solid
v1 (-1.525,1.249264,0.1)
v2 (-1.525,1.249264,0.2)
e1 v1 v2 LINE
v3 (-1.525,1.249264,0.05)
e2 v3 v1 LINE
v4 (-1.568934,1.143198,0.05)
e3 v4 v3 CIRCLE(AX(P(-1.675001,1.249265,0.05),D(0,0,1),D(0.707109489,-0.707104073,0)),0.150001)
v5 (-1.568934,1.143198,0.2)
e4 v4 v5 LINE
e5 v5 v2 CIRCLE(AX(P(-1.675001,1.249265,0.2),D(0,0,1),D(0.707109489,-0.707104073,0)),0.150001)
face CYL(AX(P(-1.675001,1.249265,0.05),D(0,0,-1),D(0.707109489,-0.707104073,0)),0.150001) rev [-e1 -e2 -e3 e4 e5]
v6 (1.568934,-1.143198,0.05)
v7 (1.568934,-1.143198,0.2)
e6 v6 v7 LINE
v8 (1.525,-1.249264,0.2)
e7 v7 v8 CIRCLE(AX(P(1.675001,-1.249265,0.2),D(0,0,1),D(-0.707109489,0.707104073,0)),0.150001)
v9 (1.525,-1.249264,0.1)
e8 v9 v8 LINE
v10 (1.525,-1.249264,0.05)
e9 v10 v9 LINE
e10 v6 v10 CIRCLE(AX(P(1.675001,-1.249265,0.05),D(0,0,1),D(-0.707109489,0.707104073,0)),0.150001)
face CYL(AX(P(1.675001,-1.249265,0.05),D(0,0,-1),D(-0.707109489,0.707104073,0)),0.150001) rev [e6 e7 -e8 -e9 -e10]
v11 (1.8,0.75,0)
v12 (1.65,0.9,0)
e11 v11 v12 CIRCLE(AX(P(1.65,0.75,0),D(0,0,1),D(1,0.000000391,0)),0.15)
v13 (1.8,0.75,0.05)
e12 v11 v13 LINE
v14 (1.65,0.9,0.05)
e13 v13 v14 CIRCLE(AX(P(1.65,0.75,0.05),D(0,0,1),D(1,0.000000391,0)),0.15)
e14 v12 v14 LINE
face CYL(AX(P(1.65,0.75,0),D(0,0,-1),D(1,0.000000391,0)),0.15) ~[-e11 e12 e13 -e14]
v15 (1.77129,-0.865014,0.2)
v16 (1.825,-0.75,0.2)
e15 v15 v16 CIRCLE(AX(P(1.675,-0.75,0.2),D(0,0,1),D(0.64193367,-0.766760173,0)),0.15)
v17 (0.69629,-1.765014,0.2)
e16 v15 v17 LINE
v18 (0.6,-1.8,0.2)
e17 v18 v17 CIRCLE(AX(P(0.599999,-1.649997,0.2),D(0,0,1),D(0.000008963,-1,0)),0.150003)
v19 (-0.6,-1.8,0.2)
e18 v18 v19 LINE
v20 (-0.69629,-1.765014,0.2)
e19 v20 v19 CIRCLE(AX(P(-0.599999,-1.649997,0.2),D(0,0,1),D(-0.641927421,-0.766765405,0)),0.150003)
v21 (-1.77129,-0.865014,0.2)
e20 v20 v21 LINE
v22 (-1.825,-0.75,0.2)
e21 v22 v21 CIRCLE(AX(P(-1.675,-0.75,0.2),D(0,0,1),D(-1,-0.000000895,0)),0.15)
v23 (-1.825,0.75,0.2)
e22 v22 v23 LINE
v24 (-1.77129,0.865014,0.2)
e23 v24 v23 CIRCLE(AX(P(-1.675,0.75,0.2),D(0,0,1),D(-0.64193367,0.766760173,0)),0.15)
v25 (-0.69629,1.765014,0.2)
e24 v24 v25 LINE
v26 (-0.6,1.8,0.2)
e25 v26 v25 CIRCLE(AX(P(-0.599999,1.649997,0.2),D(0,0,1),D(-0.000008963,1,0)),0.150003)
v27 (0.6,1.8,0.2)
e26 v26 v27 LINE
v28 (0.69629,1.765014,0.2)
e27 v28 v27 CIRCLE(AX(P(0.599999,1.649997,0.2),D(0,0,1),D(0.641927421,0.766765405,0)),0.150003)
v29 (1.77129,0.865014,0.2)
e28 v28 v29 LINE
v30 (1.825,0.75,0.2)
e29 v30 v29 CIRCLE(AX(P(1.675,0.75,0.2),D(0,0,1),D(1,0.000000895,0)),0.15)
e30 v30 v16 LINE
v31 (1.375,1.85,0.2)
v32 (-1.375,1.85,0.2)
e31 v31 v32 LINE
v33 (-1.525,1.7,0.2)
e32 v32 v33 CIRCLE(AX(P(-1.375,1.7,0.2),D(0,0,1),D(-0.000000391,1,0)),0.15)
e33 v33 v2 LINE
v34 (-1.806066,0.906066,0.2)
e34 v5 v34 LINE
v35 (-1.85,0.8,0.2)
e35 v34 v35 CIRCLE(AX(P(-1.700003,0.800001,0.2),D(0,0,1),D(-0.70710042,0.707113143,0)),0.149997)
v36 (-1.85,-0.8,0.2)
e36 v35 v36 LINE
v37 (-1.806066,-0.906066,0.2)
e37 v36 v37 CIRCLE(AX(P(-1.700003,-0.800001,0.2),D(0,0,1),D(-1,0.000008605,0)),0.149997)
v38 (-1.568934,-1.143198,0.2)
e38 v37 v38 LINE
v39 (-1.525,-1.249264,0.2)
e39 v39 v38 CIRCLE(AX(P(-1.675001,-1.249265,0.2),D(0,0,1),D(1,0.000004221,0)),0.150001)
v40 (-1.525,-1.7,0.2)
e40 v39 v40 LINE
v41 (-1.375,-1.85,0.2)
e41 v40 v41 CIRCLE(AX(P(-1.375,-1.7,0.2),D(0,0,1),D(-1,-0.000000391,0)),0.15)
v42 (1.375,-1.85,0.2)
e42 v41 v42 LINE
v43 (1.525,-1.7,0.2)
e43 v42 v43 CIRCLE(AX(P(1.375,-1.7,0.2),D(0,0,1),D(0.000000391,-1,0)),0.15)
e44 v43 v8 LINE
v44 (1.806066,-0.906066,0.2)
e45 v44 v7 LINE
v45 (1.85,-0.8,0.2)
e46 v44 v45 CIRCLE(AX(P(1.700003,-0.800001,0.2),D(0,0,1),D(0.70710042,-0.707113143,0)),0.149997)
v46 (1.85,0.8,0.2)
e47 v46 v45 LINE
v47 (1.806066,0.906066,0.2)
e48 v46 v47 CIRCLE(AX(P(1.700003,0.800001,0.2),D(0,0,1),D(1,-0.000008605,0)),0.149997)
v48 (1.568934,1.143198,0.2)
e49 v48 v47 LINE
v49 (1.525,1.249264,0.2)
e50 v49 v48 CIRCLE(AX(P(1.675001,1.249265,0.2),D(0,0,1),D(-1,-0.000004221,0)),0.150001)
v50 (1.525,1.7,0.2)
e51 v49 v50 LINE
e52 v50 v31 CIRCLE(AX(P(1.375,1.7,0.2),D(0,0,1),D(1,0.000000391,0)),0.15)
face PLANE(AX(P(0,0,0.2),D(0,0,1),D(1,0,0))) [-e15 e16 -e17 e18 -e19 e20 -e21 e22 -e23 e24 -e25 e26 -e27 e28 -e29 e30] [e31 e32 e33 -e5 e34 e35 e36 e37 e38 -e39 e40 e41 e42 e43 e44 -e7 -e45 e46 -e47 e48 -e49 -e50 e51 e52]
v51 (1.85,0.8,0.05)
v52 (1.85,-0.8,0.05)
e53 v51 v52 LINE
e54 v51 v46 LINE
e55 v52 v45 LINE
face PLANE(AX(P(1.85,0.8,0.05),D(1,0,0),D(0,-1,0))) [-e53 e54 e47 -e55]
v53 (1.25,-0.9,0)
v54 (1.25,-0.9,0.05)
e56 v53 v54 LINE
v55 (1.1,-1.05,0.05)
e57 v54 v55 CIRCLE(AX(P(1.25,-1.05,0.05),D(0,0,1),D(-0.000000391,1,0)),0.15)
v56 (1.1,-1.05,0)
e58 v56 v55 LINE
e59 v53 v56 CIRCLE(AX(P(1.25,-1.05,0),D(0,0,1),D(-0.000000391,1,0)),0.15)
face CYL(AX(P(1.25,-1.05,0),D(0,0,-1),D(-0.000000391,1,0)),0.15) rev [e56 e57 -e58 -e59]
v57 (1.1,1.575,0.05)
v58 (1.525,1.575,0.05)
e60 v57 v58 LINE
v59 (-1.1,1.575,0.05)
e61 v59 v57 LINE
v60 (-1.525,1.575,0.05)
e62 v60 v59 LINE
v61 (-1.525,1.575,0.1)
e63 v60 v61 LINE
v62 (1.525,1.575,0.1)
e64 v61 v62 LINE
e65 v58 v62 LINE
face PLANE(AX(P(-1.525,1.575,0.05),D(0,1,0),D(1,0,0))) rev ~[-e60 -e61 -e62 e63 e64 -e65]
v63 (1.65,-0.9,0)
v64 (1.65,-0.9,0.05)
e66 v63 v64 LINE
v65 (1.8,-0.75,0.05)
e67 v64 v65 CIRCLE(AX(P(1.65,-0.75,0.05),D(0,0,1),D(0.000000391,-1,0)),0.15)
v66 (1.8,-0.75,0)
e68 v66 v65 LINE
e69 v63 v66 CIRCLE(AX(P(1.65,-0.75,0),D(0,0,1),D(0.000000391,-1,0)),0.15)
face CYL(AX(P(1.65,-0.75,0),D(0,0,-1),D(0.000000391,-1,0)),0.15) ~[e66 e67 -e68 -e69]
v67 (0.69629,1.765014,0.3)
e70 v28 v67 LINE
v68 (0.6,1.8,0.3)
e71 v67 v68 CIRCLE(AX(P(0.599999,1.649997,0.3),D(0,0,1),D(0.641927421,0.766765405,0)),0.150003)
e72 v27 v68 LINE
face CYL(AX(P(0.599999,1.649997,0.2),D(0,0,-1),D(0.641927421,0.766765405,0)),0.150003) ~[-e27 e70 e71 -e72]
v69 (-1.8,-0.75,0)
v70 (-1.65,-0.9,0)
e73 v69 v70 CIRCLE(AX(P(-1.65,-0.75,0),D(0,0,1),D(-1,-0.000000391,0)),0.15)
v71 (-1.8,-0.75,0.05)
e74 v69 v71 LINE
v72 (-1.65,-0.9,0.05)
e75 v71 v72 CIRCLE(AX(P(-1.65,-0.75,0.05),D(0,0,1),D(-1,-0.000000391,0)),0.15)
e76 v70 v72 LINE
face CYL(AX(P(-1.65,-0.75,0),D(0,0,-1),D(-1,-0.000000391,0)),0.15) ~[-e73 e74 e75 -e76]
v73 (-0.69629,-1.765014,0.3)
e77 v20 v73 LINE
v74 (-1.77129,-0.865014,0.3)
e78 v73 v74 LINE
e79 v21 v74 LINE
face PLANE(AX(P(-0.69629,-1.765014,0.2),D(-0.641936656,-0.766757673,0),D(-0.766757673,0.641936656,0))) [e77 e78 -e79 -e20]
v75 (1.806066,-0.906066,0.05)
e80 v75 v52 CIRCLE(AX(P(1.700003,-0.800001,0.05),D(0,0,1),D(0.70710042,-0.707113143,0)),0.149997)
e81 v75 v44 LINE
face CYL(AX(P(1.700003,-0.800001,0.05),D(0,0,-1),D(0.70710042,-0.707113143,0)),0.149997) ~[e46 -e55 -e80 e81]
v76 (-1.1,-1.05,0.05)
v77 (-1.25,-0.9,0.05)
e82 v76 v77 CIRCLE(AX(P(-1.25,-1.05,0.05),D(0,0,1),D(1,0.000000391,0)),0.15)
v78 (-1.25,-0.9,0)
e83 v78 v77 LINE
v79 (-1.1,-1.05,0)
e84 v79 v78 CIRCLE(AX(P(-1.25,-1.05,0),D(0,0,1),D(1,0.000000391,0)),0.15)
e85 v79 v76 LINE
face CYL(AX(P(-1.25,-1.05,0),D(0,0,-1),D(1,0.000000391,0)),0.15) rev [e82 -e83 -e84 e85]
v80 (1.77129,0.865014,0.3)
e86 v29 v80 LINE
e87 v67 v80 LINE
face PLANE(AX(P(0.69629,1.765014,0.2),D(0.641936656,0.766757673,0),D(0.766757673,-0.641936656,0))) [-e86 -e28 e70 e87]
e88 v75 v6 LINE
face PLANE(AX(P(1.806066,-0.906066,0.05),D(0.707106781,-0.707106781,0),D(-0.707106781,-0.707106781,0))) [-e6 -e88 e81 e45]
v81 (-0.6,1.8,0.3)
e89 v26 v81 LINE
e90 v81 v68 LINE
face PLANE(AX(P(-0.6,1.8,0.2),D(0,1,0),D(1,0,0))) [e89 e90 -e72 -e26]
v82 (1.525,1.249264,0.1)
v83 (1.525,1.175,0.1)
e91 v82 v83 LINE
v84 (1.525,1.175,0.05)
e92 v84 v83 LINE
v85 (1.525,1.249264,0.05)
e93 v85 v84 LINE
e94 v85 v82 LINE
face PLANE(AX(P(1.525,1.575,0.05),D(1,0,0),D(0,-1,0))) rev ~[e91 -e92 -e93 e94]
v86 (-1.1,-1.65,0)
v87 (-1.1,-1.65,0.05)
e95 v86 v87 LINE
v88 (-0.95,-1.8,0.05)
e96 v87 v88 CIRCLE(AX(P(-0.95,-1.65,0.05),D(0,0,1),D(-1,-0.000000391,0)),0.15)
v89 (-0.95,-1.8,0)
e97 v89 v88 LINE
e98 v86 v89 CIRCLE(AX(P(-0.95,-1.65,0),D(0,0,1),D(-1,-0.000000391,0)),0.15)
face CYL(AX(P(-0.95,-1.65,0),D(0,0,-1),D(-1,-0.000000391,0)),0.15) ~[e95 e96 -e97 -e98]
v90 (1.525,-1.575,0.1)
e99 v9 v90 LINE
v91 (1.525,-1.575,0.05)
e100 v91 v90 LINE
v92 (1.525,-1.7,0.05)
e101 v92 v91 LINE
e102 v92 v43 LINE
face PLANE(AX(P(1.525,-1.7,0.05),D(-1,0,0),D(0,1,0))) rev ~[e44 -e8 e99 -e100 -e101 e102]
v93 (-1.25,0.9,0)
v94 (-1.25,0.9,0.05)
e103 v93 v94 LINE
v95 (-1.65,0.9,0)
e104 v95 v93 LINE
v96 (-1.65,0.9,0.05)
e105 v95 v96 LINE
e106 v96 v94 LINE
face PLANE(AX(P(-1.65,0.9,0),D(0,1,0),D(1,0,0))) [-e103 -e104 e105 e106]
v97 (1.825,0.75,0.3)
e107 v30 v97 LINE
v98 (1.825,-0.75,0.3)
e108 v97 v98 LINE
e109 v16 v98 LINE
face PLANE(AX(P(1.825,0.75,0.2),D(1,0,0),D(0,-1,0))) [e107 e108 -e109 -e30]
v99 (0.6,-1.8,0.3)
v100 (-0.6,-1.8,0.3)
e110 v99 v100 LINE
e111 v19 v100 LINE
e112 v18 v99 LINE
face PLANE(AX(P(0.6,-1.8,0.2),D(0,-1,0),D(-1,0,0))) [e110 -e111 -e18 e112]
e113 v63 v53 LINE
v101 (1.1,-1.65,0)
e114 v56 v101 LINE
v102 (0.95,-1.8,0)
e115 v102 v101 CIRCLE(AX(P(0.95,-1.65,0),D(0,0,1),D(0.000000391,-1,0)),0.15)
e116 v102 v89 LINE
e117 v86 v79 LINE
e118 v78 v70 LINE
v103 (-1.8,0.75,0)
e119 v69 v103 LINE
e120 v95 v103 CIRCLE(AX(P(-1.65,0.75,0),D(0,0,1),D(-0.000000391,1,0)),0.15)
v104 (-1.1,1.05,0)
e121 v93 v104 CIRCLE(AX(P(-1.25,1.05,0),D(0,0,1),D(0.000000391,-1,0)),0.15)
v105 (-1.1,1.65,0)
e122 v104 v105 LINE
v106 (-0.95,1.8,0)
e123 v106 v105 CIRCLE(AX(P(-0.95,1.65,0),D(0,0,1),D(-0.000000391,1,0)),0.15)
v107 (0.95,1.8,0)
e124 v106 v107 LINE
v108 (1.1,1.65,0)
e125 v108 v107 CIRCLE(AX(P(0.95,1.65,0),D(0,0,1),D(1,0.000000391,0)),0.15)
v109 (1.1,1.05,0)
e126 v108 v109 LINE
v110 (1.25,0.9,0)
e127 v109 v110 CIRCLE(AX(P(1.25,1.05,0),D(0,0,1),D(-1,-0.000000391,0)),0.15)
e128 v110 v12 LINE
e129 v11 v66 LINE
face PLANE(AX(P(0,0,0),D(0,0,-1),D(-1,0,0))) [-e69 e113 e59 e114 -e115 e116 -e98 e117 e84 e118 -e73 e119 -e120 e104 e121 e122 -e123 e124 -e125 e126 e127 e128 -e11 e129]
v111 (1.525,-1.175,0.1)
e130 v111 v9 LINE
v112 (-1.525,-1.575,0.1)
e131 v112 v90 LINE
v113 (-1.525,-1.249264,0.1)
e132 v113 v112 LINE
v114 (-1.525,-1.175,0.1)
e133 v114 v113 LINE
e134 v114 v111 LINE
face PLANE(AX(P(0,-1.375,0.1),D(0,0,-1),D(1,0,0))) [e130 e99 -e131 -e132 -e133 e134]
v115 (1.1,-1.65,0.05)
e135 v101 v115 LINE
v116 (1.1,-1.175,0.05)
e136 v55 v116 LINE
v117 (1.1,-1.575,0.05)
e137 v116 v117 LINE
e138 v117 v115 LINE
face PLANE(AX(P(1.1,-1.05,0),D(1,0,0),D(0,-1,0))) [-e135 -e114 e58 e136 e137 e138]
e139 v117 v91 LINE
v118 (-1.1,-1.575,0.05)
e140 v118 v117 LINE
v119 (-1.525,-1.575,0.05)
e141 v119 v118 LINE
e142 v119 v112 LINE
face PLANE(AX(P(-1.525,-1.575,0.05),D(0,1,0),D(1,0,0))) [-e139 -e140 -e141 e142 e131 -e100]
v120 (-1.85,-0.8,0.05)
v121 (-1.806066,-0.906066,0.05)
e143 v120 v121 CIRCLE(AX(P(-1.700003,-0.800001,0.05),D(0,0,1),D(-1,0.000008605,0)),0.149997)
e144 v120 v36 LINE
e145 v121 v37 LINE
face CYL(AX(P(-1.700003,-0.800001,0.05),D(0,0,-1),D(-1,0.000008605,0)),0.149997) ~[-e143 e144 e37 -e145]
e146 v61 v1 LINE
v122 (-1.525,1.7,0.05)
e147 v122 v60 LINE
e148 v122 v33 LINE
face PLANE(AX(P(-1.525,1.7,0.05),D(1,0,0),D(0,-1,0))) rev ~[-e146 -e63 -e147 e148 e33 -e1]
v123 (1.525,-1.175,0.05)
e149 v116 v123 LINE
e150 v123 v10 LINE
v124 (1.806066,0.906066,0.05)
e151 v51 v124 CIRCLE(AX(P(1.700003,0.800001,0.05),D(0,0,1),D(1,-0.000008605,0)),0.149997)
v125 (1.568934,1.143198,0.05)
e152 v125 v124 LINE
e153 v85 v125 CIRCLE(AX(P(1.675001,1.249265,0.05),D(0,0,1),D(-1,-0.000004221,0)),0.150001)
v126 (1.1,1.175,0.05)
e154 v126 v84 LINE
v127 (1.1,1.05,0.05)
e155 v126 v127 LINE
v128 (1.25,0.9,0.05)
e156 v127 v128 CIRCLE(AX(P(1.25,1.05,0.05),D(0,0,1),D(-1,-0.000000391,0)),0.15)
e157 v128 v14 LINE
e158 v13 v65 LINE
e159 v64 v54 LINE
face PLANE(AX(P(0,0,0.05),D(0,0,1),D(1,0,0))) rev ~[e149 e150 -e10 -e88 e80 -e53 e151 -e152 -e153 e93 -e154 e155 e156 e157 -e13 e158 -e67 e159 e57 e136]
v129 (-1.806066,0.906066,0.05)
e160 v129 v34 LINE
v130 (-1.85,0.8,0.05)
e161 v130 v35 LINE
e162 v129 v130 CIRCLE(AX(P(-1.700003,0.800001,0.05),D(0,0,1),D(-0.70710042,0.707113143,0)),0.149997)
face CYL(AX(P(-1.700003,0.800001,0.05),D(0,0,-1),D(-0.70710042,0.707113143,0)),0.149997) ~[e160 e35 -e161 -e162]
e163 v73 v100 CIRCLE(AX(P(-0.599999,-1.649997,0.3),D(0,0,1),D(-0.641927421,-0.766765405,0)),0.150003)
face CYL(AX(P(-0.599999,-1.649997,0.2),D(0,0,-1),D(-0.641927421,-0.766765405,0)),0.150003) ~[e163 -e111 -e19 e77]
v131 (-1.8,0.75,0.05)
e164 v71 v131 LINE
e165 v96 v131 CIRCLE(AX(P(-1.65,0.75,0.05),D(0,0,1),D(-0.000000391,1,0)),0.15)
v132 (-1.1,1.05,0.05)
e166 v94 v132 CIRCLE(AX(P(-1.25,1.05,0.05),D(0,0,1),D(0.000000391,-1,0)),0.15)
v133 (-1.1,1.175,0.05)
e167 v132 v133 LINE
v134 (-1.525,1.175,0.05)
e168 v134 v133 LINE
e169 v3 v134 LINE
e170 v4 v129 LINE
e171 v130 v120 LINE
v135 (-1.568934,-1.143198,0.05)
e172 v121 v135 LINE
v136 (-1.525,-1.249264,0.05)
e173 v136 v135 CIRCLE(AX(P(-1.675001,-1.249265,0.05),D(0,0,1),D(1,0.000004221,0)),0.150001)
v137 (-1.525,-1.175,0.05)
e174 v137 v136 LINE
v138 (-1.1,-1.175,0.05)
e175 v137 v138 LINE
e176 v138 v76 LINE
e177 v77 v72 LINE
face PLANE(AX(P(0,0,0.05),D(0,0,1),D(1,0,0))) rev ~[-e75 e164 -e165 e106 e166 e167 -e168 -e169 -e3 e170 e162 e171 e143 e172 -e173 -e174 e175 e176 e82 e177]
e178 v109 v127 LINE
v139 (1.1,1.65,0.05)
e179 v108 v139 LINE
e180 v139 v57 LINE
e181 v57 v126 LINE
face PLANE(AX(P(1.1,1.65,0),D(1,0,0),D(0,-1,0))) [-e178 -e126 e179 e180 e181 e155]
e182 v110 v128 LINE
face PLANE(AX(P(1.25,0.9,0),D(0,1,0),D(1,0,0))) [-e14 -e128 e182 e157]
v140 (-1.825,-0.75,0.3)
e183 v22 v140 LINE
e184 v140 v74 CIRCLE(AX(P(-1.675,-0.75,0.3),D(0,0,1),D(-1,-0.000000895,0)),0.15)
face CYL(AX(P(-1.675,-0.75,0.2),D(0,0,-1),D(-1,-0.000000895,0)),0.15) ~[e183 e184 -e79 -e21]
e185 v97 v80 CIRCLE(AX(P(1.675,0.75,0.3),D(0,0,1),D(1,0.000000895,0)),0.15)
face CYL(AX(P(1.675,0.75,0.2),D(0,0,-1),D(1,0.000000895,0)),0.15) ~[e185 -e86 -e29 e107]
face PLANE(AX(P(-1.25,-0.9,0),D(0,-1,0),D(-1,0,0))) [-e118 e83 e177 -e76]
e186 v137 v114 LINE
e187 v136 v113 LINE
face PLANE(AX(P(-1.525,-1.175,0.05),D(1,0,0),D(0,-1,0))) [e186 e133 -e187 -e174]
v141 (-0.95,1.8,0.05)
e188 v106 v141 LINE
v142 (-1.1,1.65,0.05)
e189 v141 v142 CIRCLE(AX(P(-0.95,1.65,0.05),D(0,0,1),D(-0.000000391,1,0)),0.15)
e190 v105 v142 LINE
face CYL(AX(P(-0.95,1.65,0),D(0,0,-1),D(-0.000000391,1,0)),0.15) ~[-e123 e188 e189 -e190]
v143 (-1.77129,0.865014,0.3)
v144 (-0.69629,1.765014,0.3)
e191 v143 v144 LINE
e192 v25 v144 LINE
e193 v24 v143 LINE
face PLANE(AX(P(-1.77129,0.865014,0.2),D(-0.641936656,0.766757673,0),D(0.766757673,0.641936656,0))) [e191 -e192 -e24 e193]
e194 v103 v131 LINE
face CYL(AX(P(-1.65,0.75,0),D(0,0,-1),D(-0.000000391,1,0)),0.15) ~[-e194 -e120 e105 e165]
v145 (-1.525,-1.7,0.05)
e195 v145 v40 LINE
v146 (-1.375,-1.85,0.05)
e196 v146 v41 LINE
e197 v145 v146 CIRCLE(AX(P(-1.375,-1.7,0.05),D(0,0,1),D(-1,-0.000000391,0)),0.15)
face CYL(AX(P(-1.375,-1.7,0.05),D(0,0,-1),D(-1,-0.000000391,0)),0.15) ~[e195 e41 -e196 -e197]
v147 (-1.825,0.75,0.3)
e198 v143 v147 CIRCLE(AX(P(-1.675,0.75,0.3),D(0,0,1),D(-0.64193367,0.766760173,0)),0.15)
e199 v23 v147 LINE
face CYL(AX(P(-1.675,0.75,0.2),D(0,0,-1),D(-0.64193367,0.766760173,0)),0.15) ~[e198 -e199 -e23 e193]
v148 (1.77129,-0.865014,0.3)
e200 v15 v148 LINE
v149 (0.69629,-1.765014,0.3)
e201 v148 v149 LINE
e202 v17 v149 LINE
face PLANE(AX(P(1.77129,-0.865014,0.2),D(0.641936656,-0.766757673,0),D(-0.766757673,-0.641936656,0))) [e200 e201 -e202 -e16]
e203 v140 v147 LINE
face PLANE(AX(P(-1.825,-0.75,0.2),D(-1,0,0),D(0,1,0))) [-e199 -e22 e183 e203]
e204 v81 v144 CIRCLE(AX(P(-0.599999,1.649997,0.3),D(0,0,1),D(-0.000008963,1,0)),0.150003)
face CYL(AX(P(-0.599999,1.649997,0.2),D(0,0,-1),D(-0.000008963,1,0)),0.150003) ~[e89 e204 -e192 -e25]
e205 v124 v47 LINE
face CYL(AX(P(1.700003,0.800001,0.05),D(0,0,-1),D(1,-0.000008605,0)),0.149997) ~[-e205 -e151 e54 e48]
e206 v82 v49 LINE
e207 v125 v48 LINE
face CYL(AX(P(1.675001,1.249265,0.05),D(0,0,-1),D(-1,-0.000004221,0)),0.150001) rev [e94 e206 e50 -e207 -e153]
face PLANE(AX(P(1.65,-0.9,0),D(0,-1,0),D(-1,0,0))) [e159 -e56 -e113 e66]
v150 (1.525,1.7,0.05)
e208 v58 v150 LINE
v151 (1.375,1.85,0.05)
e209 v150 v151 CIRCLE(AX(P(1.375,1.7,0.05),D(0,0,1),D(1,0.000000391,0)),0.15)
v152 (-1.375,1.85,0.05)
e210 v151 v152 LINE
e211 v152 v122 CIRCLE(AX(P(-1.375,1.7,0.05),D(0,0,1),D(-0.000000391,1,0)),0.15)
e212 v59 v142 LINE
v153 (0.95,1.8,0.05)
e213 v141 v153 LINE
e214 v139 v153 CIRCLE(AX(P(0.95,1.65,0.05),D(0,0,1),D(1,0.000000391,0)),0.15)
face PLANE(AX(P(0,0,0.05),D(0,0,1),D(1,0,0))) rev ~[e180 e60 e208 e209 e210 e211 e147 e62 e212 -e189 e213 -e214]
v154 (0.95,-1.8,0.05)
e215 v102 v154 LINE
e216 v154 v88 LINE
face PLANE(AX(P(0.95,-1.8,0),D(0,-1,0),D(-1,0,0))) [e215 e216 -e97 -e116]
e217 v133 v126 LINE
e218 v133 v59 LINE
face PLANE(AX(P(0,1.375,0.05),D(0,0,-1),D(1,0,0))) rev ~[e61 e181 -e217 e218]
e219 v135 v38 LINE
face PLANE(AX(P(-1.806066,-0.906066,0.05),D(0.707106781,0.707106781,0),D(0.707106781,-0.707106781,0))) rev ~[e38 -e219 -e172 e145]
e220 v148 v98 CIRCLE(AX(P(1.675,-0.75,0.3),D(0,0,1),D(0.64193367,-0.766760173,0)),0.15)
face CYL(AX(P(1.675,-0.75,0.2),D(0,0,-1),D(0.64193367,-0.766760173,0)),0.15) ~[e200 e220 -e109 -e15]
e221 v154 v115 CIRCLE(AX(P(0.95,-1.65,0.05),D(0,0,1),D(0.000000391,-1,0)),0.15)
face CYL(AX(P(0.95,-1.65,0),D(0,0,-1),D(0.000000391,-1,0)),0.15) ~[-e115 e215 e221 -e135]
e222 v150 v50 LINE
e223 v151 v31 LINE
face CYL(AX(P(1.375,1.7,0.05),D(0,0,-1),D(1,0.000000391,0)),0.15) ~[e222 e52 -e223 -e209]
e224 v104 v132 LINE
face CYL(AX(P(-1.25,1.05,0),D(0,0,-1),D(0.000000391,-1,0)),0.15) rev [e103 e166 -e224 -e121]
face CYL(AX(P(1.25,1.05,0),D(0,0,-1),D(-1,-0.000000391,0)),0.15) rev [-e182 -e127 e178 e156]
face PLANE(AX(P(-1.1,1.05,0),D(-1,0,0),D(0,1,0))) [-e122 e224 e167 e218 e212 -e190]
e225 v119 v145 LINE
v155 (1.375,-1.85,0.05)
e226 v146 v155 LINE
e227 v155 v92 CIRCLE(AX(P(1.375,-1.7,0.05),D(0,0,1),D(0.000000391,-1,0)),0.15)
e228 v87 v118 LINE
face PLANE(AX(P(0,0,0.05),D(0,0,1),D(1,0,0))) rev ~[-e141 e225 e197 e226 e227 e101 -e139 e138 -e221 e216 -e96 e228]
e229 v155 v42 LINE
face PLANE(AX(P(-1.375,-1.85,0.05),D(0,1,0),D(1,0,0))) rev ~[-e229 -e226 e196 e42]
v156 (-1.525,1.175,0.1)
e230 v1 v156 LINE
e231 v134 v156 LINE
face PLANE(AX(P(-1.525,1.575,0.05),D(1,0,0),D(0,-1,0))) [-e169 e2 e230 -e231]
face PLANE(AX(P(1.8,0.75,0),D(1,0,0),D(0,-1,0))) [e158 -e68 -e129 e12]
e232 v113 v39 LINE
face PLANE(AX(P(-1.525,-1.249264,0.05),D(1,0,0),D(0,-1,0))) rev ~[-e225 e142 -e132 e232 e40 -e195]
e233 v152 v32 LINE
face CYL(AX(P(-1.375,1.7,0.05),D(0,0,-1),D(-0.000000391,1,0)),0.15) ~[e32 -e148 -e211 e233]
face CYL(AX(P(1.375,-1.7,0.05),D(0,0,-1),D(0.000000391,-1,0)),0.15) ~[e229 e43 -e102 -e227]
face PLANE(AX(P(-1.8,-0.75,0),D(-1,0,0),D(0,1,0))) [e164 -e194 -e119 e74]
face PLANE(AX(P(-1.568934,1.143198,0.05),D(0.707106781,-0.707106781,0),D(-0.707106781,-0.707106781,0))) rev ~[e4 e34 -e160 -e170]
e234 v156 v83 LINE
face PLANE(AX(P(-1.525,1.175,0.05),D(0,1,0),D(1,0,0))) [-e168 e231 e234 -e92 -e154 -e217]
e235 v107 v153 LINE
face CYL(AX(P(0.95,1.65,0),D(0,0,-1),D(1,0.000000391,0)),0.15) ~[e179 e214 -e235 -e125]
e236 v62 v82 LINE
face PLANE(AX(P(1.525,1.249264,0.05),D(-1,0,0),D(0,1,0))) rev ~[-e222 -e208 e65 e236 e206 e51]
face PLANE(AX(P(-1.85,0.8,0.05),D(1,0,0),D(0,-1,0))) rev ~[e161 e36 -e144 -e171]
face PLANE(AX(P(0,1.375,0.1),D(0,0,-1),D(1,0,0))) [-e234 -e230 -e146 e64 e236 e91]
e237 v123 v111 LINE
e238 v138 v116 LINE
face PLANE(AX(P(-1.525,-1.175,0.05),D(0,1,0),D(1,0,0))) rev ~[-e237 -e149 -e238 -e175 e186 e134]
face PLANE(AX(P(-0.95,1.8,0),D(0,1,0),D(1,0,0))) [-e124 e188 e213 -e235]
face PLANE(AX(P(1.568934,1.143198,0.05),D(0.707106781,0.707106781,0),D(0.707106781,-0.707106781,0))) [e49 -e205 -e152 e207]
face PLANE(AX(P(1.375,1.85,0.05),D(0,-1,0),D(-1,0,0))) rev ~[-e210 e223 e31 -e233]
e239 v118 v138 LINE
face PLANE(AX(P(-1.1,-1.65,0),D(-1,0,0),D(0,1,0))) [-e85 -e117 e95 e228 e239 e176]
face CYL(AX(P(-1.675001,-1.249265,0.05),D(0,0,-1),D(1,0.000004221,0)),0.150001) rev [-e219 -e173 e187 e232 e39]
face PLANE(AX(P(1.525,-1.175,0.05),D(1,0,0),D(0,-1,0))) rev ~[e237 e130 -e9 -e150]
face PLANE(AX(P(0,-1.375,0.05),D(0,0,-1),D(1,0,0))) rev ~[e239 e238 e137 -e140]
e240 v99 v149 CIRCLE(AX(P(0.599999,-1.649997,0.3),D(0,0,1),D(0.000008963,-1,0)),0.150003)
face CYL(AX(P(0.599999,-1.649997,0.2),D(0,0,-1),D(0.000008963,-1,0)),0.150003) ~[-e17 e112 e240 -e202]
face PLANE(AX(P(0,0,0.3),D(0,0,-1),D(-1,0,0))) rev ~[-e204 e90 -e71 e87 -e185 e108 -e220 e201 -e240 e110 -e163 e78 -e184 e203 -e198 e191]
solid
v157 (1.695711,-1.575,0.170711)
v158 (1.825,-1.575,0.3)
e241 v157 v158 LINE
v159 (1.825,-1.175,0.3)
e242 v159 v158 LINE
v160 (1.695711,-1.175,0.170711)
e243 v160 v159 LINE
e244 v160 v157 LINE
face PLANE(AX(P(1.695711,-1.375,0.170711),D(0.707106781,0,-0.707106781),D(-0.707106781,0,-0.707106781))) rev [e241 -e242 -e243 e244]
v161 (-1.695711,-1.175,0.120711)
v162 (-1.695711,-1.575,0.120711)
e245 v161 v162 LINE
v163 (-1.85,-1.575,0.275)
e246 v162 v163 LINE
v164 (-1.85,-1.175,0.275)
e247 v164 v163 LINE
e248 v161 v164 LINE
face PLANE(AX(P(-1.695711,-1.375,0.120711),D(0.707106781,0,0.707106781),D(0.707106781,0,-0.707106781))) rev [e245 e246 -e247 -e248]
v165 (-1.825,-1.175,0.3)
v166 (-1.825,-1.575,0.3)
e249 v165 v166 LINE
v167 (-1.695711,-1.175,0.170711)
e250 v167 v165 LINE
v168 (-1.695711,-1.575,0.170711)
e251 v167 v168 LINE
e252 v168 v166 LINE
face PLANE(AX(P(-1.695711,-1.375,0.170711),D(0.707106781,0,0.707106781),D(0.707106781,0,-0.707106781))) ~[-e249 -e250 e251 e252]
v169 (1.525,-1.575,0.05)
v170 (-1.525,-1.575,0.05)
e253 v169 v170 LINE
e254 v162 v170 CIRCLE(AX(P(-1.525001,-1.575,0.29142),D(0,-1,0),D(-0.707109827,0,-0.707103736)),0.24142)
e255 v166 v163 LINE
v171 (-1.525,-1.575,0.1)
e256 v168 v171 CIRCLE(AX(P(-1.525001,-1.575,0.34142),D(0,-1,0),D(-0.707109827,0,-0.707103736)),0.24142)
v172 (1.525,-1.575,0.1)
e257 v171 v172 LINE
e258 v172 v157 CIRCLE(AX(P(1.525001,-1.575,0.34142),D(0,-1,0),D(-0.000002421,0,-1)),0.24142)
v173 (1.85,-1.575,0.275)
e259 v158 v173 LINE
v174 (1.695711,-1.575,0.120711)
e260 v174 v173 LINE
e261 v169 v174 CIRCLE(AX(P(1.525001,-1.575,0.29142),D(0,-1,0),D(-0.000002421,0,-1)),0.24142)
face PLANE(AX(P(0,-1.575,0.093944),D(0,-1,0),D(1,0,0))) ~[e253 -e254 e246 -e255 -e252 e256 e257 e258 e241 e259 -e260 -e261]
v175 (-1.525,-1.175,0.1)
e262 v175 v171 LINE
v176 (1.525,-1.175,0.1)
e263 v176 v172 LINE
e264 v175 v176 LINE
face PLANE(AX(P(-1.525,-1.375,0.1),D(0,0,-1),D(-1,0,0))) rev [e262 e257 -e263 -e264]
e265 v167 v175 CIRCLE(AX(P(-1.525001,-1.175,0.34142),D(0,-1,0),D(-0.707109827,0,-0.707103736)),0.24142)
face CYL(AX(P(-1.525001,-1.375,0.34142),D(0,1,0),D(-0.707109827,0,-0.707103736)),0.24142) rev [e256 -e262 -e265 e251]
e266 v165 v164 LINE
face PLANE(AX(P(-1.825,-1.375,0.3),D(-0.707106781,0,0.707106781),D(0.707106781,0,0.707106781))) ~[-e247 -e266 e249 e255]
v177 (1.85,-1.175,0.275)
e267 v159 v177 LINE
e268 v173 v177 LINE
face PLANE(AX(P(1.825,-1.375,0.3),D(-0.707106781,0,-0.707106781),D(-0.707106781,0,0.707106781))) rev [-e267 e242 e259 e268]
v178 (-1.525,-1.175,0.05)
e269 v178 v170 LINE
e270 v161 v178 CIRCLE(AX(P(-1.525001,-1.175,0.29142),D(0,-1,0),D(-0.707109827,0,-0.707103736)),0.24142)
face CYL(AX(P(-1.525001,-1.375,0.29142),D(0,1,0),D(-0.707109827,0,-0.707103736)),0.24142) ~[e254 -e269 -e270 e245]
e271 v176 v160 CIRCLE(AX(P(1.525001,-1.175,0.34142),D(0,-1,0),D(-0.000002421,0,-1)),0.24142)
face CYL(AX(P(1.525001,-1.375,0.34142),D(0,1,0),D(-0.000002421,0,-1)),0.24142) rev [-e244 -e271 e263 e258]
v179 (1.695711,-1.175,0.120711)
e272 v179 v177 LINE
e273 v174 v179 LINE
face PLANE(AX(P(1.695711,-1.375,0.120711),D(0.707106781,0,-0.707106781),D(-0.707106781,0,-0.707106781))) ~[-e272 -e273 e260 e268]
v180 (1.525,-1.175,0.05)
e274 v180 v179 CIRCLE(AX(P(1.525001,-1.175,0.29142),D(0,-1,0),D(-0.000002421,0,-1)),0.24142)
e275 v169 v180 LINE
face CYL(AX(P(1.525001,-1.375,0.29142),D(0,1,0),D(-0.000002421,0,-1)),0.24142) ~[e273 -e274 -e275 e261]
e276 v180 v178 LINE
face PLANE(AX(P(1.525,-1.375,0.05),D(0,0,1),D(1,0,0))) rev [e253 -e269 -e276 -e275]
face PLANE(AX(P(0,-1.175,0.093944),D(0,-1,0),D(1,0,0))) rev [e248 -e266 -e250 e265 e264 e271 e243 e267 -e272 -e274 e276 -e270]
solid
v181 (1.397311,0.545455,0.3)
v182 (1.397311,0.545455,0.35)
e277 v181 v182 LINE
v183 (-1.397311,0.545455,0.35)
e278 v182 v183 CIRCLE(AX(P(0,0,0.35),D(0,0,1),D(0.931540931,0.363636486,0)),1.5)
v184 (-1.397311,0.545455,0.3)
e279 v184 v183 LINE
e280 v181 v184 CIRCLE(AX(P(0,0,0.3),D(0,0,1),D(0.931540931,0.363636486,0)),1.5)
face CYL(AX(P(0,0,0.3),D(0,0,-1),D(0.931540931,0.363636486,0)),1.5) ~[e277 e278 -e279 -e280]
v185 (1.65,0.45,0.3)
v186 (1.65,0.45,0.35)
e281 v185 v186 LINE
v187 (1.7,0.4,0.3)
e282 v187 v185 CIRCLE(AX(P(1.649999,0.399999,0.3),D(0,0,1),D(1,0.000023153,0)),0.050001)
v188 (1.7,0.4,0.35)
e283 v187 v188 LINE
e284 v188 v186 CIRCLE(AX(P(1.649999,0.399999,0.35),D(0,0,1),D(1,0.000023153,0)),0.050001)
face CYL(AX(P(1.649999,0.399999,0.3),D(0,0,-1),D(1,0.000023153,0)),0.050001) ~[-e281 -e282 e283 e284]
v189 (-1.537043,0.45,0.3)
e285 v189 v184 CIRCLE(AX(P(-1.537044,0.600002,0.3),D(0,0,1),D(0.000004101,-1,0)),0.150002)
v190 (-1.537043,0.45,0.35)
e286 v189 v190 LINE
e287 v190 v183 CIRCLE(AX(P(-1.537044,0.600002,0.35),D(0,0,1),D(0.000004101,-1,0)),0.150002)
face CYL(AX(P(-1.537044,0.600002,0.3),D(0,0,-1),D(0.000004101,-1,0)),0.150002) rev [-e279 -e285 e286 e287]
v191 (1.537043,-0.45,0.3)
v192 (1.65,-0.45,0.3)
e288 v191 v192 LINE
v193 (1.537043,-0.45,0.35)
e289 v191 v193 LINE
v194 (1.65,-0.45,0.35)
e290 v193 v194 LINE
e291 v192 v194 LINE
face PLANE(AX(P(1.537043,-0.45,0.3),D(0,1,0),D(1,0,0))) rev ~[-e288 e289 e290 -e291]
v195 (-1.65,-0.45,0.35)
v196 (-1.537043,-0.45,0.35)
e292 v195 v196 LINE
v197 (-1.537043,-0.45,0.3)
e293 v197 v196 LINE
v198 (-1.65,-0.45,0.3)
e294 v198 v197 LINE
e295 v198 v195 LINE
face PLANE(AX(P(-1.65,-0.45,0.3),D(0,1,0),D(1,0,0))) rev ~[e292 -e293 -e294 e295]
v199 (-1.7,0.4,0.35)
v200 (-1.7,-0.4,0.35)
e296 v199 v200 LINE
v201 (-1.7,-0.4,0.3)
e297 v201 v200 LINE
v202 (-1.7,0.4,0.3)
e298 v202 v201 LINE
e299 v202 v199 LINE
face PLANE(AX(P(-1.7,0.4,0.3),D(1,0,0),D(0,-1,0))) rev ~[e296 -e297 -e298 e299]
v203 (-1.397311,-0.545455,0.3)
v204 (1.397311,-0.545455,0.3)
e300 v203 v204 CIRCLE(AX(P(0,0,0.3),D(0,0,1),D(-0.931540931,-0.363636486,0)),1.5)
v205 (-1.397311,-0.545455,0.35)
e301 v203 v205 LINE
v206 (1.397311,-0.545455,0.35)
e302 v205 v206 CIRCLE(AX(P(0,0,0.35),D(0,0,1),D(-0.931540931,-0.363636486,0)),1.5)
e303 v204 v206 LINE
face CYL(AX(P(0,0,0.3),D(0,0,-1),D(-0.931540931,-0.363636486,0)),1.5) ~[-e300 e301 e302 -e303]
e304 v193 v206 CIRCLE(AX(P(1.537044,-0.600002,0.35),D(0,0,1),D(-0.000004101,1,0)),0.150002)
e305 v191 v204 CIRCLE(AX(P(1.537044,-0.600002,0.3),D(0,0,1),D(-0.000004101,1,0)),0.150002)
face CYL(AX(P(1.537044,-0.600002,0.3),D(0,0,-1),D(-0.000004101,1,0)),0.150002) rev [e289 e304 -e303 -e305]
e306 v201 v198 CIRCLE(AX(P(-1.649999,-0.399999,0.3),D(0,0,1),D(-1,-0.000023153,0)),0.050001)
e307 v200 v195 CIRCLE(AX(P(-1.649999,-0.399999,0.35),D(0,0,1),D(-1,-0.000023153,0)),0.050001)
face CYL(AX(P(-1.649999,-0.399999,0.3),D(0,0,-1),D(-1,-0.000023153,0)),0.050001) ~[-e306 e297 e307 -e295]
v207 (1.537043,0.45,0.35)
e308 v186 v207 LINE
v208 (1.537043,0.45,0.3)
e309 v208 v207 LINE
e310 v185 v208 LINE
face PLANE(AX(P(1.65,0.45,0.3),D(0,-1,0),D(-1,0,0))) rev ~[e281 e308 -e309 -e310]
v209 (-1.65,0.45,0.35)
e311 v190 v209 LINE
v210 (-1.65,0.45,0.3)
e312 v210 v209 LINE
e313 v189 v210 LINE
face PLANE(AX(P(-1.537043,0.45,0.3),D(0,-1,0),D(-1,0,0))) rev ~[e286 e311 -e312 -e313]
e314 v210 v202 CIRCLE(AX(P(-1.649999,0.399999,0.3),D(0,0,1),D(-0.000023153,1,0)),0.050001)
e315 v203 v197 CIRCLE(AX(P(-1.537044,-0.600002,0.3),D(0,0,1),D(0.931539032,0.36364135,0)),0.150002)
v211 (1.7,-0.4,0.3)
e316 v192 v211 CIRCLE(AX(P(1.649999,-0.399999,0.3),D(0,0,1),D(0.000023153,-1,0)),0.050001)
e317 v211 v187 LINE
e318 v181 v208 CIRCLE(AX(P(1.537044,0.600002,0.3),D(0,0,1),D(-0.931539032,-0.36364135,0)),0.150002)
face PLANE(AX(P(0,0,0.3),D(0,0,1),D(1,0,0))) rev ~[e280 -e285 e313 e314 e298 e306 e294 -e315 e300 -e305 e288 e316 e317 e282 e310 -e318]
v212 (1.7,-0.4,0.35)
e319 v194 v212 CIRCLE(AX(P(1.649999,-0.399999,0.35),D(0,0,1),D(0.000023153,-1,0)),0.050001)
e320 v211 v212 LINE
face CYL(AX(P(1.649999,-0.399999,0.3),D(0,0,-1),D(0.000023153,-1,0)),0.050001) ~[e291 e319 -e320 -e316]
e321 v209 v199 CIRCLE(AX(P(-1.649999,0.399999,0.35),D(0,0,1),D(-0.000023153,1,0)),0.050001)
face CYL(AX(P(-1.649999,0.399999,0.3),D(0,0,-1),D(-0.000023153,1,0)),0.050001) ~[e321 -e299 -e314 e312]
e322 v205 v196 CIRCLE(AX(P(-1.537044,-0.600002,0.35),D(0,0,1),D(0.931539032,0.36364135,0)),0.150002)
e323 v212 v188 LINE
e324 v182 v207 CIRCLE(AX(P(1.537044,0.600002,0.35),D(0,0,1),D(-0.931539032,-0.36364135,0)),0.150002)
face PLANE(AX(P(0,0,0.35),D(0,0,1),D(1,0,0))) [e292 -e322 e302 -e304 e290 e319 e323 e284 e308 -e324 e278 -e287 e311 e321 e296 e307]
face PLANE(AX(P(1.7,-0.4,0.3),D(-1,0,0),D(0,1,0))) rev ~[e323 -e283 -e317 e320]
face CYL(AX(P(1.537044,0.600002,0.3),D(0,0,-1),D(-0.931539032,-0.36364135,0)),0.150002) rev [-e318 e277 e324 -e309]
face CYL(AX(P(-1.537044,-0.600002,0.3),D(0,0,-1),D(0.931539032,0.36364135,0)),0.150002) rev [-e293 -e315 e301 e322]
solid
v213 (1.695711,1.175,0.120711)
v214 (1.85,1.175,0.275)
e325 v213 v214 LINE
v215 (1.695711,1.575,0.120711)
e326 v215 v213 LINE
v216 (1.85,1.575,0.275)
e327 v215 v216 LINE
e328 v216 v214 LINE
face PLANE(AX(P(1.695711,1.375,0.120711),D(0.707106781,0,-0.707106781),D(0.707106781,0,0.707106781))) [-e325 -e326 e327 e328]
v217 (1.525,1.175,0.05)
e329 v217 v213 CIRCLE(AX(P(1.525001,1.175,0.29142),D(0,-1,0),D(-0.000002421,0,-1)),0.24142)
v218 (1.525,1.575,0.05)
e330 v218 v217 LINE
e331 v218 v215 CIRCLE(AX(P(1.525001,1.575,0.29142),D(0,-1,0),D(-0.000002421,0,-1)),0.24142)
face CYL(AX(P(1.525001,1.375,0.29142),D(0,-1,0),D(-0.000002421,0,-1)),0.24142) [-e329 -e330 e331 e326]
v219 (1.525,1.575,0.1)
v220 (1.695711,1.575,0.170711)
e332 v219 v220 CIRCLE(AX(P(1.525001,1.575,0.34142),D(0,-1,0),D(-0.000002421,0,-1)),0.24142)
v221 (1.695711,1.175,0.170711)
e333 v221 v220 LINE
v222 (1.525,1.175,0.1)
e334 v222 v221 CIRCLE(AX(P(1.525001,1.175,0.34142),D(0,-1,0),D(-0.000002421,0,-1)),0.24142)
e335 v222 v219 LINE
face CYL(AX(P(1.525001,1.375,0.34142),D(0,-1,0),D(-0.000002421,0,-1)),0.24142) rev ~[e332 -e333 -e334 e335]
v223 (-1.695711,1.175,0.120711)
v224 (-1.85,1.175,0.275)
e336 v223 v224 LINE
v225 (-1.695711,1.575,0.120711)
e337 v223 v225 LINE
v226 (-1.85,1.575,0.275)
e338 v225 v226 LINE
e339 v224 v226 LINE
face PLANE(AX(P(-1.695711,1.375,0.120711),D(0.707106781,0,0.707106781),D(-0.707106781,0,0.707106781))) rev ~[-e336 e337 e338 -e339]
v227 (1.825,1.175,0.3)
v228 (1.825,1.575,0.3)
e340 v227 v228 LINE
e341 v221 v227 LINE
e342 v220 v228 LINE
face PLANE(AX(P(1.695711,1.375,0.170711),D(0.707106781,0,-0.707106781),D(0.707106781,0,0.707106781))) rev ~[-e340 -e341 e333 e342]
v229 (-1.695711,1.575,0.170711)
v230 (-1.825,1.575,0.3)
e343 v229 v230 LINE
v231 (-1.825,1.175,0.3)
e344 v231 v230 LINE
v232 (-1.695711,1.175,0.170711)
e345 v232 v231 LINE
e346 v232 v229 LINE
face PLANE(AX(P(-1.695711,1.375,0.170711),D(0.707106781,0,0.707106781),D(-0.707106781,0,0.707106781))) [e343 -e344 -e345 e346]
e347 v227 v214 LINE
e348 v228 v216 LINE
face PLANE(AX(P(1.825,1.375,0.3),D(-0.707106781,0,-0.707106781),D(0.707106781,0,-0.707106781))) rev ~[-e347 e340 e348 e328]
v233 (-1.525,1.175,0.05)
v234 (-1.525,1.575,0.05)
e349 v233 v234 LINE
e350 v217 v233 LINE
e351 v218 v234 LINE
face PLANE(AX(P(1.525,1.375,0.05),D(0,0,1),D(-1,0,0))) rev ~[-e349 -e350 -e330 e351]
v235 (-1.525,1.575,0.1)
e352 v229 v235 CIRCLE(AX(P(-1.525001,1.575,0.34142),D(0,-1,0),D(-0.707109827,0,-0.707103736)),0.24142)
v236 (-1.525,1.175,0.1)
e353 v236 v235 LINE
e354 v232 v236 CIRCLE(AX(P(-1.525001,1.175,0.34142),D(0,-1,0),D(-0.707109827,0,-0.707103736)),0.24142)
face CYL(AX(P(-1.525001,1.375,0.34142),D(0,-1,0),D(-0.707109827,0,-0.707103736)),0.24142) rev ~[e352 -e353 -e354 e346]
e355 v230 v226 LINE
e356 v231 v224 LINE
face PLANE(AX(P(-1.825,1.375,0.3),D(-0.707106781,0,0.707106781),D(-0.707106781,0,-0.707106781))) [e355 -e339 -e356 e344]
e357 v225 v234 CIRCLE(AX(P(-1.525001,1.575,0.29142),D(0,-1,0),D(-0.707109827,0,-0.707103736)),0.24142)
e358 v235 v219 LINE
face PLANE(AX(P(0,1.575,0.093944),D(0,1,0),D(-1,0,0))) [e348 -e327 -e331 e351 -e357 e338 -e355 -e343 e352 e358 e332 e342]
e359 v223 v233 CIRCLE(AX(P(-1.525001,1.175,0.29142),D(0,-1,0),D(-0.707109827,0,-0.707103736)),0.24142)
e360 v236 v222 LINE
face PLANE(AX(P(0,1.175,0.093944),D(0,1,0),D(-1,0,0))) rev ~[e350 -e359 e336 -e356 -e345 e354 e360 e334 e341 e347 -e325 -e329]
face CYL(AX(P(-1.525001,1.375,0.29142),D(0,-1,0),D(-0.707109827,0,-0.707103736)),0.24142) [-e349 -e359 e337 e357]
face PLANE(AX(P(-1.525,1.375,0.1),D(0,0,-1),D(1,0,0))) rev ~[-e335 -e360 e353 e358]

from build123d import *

# Parameters (mm, degrees)
PAD001_DEPTH = 0.05
PAD002_DEPTH = 0.15
SKETCH_W     = 3.05
SKETCH_H     = 0.4
POCKET_DEPTH = 0.05
PAD003_DEPTH = 0.1
PAD005_DEPTH = 0.2
PAD_DEPTH    = 0.05


with BuildPart() as base:
    # Sketch001 (on XY_Plane of Origin) → Pad001 (new body)
    with BuildSketch(Plane.XY):
        with BuildLine():
            Line((-0.95, 1.8), (0.95, 1.8))
            ThreePointArc((1.1, 1.65), (1.056066, 1.756066), (0.95, 1.8))
            Line((1.1, 1.65), (1.1, 1.05))
            ThreePointArc((1.1, 1.05), (1.143934, 0.943934), (1.25, 0.9))
            Line((1.25, 0.9), (1.65, 0.9))
            ThreePointArc((1.8, 0.75), (1.756066, 0.856066), (1.65, 0.9))
            Line((1.8, 0.75), (1.8, -0.75))
            ThreePointArc((1.65, -0.9), (1.756066, -0.856066), (1.8, -0.75))
            Line((1.65, -0.9), (1.25, -0.9))
            ThreePointArc((1.25, -0.9), (1.143934, -0.943934), (1.1, -1.05))
            Line((1.1, -1.05), (1.1, -1.65))
            ThreePointArc((0.95, -1.8), (1.056066, -1.756066), (1.1, -1.65))
            Line((0.95, -1.8), (-0.95, -1.8))
            ThreePointArc((-1.1, -1.65), (-1.056066, -1.756066), (-0.95, -1.8))
            Line((-1.1, -1.65), (-1.1, -1.05))
            ThreePointArc((-1.1, -1.05), (-1.143934, -0.943934), (-1.25, -0.9))
            Line((-1.25, -0.9), (-1.65, -0.9))
            ThreePointArc((-1.8, -0.75), (-1.756066, -0.856066), (-1.65, -0.9))
            Line((-1.8, -0.75), (-1.8, 0.75))
            ThreePointArc((-1.65, 0.9), (-1.756066, 0.856066), (-1.8, 0.75))
            Line((-1.65, 0.9), (-1.25, 0.9))
            ThreePointArc((-1.25, 0.9), (-1.143934, 0.943934), (-1.1, 1.05))
            Line((-1.1, 1.05), (-1.1, 1.65))
            ThreePointArc((-0.95, 1.8), (-1.056066, 1.756066), (-1.1, 1.65))
        make_face()
    extrude(amount=PAD001_DEPTH)

    # Sketch002 (on XY_Plane of Origin) → Pad002 (join)
    with BuildSketch(Plane.XY.offset(0.05)):
        with BuildLine():
            Line((-1.525, 1.7), (-1.525, 1.249264))
            ThreePointArc((-1.568934, 1.143198), (-1.536418, 1.191862), (-1.525, 1.249264))
            Line((-1.568934, 1.143198), (-1.806066, 0.906066))
            ThreePointArc((-1.806066, 0.906066), (-1.838582, 0.857403), (-1.85, 0.8))
            Line((-1.85, 0.8), (-1.85, -0.8))
            ThreePointArc((-1.85, -0.8), (-1.838582, -0.857403), (-1.806066, -0.906066))
            Line((-1.806066, -0.906066), (-1.568934, -1.143198))
            ThreePointArc((-1.525, -1.249264), (-1.536418, -1.191862), (-1.568934, -1.143198))
            Line((-1.525, -1.249264), (-1.525, -1.7))
            ThreePointArc((-1.525, -1.7), (-1.481066, -1.806066), (-1.375, -1.85))
            Line((-1.375, -1.85), (1.375, -1.85))
            ThreePointArc((1.375, -1.85), (1.481066, -1.806066), (1.525, -1.7))
            Line((1.525, -1.7), (1.525, -1.249264))
            ThreePointArc((1.568934, -1.143198), (1.536418, -1.191862), (1.525, -1.249264))
            Line((1.806066, -0.906066), (1.568934, -1.143198))
            ThreePointArc((1.806066, -0.906066), (1.838582, -0.857403), (1.85, -0.8))
            Line((1.85, 0.8), (1.85, -0.8))
            ThreePointArc((1.85, 0.8), (1.838582, 0.857403), (1.806066, 0.906066))
            Line((1.568934, 1.143198), (1.806066, 0.906066))
            ThreePointArc((1.525, 1.249264), (1.536418, 1.191862), (1.568934, 1.143198))
            Line((1.525, 1.249264), (1.525, 1.7))
            ThreePointArc((1.525, 1.7), (1.481066, 1.806066), (1.375, 1.85))
            Line((1.375, 1.85), (-1.375, 1.85))
            ThreePointArc((-1.375, 1.85), (-1.481066, 1.806066), (-1.525, 1.7))
        make_face()
    extrude(amount=PAD002_DEPTH)

    # Sketch (on Face5 of Pad002) → Pocket (cut)
    with BuildSketch(Plane(origin=(0, 0, 0.05), x_dir=(1, 0, 0), z_dir=(0, 0, -1))):
        with Locations((0, 1.375)):
            Rectangle(SKETCH_W, SKETCH_H)
        with Locations((0, -1.375)):
            Rectangle(SKETCH_W, SKETCH_H)
    extrude(amount=-POCKET_DEPTH, mode=Mode.SUBTRACT)

    # Sketch003 (on XY_Plane of Origin) → Pad003 (join)
    with BuildSketch(Plane.XY.offset(0.2)):
        with BuildLine():
            Line((-1.77129, 0.865014), (-0.69629, 1.765014))
            ThreePointArc((-0.6, 1.8), (-0.651225, 1.790982), (-0.69629, 1.765014))
            Line((-0.6, 1.8), (0.6, 1.8))
            ThreePointArc((0.69629, 1.765014), (0.651225, 1.790982), (0.6, 1.8))
            Line((0.69629, 1.765014), (1.77129, 0.865014))
            ThreePointArc((1.825, 0.75), (1.810911, 0.813468), (1.77129, 0.865014))
            Line((1.825, 0.75), (1.825, -0.75))
            ThreePointArc((1.77129, -0.865014), (1.810911, -0.813468), (1.825, -0.75))
            Line((1.77129, -0.865014), (0.69629, -1.765014))
            ThreePointArc((0.6, -1.8), (0.651225, -1.790982), (0.69629, -1.765014))
            Line((0.6, -1.8), (-0.6, -1.8))
            ThreePointArc((-0.69629, -1.765014), (-0.651225, -1.790982), (-0.6, -1.8))
            Line((-0.69629, -1.765014), (-1.77129, -0.865014))
            ThreePointArc((-1.825, -0.75), (-1.810911, -0.813468), (-1.77129, -0.865014))
            Line((-1.825, -0.75), (-1.825, 0.75))
            ThreePointArc((-1.77129, 0.865014), (-1.810911, 0.813468), (-1.825, 0.75))
        make_face()
    extrude(amount=PAD003_DEPTH)


with BuildPart() as leads:
    # Sketch005 (on XZ_Plane of Origin) → Pad005 (new body, symmetric)
    with BuildSketch(Plane(origin=(0, 1.375, 0.05), x_dir=(1, 0, 0), z_dir=(0, -1, 0))):
        with BuildLine():
            Line((1.525, 0), (-1.525, 0))
            ThreePointArc((-1.695711, 0.070711), (-1.617388, 0.018377), (-1.525, 0))
            Line((-1.695711, 0.070711), (-1.85, 0.225))
            Line((-1.825, 0.25), (-1.85, 0.225))
            Line((-1.695711, 0.120711), (-1.825, 0.25))
            ThreePointArc((-1.695711, 0.120711), (-1.617388, 0.068377), (-1.525, 0.05))
            Line((-1.525, 0.05), (1.525, 0.05))
            ThreePointArc((1.525, 0.05), (1.617388, 0.068377), (1.695711, 0.120711))
            Line((1.695711, 0.120711), (1.825, 0.25))
            Line((1.825, 0.25), (1.85, 0.225))
            Line((1.695711, 0.070711), (1.85, 0.225))
            ThreePointArc((1.525, 0), (1.617388, 0.018377), (1.695711, 0.070711))
        make_face()
    pad005 = extrude(amount=PAD005_DEPTH, both=True)

    # Mirrored001: Pad005 across XZ
    add(pad005.mirror(Plane.XZ))


with BuildPart() as actuator:
    # Sketch006 (on XY_Plane of Origin) → Pad (new body)
    with BuildSketch(Plane.XY.offset(0.3)):
        with BuildLine():
            ThreePointArc((-1.397311, -0.545455), (0, -1.5), (1.397311, -0.545455))
            ThreePointArc((1.537043, -0.45), (1.452431, -0.476142), (1.397311, -0.545455))
            Line((1.537043, -0.45), (1.65, -0.45))
            ThreePointArc((1.65, -0.45), (1.685355, -0.435355), (1.7, -0.4))
            Line((1.7, -0.4), (1.7, 0.4))
            ThreePointArc((1.7, 0.4), (1.685355, 0.435355), (1.65, 0.45))
            Line((1.65, 0.45), (1.537043, 0.45))
            ThreePointArc((1.397311, 0.545455), (1.452431, 0.476142), (1.537043, 0.45))
            ThreePointArc((1.397311, 0.545455), (0, 1.5), (-1.397311, 0.545455))
            ThreePointArc((-1.537043, 0.45), (-1.452431, 0.476142), (-1.397311, 0.545455))
            Line((-1.537043, 0.45), (-1.65, 0.45))
            ThreePointArc((-1.65, 0.45), (-1.685355, 0.435355), (-1.7, 0.4))
            Line((-1.7, 0.4), (-1.7, -0.4))
            ThreePointArc((-1.7, -0.4), (-1.685355, -0.435355), (-1.65, -0.45))
            Line((-1.65, -0.45), (-1.537043, -0.45))
            ThreePointArc((-1.397311, -0.545455), (-1.452431, -0.476142), (-1.537043, -0.45))
        make_face()
    extrude(amount=PAD_DEPTH)


solid = Compound([base.part, leads.part, actuator.part])
